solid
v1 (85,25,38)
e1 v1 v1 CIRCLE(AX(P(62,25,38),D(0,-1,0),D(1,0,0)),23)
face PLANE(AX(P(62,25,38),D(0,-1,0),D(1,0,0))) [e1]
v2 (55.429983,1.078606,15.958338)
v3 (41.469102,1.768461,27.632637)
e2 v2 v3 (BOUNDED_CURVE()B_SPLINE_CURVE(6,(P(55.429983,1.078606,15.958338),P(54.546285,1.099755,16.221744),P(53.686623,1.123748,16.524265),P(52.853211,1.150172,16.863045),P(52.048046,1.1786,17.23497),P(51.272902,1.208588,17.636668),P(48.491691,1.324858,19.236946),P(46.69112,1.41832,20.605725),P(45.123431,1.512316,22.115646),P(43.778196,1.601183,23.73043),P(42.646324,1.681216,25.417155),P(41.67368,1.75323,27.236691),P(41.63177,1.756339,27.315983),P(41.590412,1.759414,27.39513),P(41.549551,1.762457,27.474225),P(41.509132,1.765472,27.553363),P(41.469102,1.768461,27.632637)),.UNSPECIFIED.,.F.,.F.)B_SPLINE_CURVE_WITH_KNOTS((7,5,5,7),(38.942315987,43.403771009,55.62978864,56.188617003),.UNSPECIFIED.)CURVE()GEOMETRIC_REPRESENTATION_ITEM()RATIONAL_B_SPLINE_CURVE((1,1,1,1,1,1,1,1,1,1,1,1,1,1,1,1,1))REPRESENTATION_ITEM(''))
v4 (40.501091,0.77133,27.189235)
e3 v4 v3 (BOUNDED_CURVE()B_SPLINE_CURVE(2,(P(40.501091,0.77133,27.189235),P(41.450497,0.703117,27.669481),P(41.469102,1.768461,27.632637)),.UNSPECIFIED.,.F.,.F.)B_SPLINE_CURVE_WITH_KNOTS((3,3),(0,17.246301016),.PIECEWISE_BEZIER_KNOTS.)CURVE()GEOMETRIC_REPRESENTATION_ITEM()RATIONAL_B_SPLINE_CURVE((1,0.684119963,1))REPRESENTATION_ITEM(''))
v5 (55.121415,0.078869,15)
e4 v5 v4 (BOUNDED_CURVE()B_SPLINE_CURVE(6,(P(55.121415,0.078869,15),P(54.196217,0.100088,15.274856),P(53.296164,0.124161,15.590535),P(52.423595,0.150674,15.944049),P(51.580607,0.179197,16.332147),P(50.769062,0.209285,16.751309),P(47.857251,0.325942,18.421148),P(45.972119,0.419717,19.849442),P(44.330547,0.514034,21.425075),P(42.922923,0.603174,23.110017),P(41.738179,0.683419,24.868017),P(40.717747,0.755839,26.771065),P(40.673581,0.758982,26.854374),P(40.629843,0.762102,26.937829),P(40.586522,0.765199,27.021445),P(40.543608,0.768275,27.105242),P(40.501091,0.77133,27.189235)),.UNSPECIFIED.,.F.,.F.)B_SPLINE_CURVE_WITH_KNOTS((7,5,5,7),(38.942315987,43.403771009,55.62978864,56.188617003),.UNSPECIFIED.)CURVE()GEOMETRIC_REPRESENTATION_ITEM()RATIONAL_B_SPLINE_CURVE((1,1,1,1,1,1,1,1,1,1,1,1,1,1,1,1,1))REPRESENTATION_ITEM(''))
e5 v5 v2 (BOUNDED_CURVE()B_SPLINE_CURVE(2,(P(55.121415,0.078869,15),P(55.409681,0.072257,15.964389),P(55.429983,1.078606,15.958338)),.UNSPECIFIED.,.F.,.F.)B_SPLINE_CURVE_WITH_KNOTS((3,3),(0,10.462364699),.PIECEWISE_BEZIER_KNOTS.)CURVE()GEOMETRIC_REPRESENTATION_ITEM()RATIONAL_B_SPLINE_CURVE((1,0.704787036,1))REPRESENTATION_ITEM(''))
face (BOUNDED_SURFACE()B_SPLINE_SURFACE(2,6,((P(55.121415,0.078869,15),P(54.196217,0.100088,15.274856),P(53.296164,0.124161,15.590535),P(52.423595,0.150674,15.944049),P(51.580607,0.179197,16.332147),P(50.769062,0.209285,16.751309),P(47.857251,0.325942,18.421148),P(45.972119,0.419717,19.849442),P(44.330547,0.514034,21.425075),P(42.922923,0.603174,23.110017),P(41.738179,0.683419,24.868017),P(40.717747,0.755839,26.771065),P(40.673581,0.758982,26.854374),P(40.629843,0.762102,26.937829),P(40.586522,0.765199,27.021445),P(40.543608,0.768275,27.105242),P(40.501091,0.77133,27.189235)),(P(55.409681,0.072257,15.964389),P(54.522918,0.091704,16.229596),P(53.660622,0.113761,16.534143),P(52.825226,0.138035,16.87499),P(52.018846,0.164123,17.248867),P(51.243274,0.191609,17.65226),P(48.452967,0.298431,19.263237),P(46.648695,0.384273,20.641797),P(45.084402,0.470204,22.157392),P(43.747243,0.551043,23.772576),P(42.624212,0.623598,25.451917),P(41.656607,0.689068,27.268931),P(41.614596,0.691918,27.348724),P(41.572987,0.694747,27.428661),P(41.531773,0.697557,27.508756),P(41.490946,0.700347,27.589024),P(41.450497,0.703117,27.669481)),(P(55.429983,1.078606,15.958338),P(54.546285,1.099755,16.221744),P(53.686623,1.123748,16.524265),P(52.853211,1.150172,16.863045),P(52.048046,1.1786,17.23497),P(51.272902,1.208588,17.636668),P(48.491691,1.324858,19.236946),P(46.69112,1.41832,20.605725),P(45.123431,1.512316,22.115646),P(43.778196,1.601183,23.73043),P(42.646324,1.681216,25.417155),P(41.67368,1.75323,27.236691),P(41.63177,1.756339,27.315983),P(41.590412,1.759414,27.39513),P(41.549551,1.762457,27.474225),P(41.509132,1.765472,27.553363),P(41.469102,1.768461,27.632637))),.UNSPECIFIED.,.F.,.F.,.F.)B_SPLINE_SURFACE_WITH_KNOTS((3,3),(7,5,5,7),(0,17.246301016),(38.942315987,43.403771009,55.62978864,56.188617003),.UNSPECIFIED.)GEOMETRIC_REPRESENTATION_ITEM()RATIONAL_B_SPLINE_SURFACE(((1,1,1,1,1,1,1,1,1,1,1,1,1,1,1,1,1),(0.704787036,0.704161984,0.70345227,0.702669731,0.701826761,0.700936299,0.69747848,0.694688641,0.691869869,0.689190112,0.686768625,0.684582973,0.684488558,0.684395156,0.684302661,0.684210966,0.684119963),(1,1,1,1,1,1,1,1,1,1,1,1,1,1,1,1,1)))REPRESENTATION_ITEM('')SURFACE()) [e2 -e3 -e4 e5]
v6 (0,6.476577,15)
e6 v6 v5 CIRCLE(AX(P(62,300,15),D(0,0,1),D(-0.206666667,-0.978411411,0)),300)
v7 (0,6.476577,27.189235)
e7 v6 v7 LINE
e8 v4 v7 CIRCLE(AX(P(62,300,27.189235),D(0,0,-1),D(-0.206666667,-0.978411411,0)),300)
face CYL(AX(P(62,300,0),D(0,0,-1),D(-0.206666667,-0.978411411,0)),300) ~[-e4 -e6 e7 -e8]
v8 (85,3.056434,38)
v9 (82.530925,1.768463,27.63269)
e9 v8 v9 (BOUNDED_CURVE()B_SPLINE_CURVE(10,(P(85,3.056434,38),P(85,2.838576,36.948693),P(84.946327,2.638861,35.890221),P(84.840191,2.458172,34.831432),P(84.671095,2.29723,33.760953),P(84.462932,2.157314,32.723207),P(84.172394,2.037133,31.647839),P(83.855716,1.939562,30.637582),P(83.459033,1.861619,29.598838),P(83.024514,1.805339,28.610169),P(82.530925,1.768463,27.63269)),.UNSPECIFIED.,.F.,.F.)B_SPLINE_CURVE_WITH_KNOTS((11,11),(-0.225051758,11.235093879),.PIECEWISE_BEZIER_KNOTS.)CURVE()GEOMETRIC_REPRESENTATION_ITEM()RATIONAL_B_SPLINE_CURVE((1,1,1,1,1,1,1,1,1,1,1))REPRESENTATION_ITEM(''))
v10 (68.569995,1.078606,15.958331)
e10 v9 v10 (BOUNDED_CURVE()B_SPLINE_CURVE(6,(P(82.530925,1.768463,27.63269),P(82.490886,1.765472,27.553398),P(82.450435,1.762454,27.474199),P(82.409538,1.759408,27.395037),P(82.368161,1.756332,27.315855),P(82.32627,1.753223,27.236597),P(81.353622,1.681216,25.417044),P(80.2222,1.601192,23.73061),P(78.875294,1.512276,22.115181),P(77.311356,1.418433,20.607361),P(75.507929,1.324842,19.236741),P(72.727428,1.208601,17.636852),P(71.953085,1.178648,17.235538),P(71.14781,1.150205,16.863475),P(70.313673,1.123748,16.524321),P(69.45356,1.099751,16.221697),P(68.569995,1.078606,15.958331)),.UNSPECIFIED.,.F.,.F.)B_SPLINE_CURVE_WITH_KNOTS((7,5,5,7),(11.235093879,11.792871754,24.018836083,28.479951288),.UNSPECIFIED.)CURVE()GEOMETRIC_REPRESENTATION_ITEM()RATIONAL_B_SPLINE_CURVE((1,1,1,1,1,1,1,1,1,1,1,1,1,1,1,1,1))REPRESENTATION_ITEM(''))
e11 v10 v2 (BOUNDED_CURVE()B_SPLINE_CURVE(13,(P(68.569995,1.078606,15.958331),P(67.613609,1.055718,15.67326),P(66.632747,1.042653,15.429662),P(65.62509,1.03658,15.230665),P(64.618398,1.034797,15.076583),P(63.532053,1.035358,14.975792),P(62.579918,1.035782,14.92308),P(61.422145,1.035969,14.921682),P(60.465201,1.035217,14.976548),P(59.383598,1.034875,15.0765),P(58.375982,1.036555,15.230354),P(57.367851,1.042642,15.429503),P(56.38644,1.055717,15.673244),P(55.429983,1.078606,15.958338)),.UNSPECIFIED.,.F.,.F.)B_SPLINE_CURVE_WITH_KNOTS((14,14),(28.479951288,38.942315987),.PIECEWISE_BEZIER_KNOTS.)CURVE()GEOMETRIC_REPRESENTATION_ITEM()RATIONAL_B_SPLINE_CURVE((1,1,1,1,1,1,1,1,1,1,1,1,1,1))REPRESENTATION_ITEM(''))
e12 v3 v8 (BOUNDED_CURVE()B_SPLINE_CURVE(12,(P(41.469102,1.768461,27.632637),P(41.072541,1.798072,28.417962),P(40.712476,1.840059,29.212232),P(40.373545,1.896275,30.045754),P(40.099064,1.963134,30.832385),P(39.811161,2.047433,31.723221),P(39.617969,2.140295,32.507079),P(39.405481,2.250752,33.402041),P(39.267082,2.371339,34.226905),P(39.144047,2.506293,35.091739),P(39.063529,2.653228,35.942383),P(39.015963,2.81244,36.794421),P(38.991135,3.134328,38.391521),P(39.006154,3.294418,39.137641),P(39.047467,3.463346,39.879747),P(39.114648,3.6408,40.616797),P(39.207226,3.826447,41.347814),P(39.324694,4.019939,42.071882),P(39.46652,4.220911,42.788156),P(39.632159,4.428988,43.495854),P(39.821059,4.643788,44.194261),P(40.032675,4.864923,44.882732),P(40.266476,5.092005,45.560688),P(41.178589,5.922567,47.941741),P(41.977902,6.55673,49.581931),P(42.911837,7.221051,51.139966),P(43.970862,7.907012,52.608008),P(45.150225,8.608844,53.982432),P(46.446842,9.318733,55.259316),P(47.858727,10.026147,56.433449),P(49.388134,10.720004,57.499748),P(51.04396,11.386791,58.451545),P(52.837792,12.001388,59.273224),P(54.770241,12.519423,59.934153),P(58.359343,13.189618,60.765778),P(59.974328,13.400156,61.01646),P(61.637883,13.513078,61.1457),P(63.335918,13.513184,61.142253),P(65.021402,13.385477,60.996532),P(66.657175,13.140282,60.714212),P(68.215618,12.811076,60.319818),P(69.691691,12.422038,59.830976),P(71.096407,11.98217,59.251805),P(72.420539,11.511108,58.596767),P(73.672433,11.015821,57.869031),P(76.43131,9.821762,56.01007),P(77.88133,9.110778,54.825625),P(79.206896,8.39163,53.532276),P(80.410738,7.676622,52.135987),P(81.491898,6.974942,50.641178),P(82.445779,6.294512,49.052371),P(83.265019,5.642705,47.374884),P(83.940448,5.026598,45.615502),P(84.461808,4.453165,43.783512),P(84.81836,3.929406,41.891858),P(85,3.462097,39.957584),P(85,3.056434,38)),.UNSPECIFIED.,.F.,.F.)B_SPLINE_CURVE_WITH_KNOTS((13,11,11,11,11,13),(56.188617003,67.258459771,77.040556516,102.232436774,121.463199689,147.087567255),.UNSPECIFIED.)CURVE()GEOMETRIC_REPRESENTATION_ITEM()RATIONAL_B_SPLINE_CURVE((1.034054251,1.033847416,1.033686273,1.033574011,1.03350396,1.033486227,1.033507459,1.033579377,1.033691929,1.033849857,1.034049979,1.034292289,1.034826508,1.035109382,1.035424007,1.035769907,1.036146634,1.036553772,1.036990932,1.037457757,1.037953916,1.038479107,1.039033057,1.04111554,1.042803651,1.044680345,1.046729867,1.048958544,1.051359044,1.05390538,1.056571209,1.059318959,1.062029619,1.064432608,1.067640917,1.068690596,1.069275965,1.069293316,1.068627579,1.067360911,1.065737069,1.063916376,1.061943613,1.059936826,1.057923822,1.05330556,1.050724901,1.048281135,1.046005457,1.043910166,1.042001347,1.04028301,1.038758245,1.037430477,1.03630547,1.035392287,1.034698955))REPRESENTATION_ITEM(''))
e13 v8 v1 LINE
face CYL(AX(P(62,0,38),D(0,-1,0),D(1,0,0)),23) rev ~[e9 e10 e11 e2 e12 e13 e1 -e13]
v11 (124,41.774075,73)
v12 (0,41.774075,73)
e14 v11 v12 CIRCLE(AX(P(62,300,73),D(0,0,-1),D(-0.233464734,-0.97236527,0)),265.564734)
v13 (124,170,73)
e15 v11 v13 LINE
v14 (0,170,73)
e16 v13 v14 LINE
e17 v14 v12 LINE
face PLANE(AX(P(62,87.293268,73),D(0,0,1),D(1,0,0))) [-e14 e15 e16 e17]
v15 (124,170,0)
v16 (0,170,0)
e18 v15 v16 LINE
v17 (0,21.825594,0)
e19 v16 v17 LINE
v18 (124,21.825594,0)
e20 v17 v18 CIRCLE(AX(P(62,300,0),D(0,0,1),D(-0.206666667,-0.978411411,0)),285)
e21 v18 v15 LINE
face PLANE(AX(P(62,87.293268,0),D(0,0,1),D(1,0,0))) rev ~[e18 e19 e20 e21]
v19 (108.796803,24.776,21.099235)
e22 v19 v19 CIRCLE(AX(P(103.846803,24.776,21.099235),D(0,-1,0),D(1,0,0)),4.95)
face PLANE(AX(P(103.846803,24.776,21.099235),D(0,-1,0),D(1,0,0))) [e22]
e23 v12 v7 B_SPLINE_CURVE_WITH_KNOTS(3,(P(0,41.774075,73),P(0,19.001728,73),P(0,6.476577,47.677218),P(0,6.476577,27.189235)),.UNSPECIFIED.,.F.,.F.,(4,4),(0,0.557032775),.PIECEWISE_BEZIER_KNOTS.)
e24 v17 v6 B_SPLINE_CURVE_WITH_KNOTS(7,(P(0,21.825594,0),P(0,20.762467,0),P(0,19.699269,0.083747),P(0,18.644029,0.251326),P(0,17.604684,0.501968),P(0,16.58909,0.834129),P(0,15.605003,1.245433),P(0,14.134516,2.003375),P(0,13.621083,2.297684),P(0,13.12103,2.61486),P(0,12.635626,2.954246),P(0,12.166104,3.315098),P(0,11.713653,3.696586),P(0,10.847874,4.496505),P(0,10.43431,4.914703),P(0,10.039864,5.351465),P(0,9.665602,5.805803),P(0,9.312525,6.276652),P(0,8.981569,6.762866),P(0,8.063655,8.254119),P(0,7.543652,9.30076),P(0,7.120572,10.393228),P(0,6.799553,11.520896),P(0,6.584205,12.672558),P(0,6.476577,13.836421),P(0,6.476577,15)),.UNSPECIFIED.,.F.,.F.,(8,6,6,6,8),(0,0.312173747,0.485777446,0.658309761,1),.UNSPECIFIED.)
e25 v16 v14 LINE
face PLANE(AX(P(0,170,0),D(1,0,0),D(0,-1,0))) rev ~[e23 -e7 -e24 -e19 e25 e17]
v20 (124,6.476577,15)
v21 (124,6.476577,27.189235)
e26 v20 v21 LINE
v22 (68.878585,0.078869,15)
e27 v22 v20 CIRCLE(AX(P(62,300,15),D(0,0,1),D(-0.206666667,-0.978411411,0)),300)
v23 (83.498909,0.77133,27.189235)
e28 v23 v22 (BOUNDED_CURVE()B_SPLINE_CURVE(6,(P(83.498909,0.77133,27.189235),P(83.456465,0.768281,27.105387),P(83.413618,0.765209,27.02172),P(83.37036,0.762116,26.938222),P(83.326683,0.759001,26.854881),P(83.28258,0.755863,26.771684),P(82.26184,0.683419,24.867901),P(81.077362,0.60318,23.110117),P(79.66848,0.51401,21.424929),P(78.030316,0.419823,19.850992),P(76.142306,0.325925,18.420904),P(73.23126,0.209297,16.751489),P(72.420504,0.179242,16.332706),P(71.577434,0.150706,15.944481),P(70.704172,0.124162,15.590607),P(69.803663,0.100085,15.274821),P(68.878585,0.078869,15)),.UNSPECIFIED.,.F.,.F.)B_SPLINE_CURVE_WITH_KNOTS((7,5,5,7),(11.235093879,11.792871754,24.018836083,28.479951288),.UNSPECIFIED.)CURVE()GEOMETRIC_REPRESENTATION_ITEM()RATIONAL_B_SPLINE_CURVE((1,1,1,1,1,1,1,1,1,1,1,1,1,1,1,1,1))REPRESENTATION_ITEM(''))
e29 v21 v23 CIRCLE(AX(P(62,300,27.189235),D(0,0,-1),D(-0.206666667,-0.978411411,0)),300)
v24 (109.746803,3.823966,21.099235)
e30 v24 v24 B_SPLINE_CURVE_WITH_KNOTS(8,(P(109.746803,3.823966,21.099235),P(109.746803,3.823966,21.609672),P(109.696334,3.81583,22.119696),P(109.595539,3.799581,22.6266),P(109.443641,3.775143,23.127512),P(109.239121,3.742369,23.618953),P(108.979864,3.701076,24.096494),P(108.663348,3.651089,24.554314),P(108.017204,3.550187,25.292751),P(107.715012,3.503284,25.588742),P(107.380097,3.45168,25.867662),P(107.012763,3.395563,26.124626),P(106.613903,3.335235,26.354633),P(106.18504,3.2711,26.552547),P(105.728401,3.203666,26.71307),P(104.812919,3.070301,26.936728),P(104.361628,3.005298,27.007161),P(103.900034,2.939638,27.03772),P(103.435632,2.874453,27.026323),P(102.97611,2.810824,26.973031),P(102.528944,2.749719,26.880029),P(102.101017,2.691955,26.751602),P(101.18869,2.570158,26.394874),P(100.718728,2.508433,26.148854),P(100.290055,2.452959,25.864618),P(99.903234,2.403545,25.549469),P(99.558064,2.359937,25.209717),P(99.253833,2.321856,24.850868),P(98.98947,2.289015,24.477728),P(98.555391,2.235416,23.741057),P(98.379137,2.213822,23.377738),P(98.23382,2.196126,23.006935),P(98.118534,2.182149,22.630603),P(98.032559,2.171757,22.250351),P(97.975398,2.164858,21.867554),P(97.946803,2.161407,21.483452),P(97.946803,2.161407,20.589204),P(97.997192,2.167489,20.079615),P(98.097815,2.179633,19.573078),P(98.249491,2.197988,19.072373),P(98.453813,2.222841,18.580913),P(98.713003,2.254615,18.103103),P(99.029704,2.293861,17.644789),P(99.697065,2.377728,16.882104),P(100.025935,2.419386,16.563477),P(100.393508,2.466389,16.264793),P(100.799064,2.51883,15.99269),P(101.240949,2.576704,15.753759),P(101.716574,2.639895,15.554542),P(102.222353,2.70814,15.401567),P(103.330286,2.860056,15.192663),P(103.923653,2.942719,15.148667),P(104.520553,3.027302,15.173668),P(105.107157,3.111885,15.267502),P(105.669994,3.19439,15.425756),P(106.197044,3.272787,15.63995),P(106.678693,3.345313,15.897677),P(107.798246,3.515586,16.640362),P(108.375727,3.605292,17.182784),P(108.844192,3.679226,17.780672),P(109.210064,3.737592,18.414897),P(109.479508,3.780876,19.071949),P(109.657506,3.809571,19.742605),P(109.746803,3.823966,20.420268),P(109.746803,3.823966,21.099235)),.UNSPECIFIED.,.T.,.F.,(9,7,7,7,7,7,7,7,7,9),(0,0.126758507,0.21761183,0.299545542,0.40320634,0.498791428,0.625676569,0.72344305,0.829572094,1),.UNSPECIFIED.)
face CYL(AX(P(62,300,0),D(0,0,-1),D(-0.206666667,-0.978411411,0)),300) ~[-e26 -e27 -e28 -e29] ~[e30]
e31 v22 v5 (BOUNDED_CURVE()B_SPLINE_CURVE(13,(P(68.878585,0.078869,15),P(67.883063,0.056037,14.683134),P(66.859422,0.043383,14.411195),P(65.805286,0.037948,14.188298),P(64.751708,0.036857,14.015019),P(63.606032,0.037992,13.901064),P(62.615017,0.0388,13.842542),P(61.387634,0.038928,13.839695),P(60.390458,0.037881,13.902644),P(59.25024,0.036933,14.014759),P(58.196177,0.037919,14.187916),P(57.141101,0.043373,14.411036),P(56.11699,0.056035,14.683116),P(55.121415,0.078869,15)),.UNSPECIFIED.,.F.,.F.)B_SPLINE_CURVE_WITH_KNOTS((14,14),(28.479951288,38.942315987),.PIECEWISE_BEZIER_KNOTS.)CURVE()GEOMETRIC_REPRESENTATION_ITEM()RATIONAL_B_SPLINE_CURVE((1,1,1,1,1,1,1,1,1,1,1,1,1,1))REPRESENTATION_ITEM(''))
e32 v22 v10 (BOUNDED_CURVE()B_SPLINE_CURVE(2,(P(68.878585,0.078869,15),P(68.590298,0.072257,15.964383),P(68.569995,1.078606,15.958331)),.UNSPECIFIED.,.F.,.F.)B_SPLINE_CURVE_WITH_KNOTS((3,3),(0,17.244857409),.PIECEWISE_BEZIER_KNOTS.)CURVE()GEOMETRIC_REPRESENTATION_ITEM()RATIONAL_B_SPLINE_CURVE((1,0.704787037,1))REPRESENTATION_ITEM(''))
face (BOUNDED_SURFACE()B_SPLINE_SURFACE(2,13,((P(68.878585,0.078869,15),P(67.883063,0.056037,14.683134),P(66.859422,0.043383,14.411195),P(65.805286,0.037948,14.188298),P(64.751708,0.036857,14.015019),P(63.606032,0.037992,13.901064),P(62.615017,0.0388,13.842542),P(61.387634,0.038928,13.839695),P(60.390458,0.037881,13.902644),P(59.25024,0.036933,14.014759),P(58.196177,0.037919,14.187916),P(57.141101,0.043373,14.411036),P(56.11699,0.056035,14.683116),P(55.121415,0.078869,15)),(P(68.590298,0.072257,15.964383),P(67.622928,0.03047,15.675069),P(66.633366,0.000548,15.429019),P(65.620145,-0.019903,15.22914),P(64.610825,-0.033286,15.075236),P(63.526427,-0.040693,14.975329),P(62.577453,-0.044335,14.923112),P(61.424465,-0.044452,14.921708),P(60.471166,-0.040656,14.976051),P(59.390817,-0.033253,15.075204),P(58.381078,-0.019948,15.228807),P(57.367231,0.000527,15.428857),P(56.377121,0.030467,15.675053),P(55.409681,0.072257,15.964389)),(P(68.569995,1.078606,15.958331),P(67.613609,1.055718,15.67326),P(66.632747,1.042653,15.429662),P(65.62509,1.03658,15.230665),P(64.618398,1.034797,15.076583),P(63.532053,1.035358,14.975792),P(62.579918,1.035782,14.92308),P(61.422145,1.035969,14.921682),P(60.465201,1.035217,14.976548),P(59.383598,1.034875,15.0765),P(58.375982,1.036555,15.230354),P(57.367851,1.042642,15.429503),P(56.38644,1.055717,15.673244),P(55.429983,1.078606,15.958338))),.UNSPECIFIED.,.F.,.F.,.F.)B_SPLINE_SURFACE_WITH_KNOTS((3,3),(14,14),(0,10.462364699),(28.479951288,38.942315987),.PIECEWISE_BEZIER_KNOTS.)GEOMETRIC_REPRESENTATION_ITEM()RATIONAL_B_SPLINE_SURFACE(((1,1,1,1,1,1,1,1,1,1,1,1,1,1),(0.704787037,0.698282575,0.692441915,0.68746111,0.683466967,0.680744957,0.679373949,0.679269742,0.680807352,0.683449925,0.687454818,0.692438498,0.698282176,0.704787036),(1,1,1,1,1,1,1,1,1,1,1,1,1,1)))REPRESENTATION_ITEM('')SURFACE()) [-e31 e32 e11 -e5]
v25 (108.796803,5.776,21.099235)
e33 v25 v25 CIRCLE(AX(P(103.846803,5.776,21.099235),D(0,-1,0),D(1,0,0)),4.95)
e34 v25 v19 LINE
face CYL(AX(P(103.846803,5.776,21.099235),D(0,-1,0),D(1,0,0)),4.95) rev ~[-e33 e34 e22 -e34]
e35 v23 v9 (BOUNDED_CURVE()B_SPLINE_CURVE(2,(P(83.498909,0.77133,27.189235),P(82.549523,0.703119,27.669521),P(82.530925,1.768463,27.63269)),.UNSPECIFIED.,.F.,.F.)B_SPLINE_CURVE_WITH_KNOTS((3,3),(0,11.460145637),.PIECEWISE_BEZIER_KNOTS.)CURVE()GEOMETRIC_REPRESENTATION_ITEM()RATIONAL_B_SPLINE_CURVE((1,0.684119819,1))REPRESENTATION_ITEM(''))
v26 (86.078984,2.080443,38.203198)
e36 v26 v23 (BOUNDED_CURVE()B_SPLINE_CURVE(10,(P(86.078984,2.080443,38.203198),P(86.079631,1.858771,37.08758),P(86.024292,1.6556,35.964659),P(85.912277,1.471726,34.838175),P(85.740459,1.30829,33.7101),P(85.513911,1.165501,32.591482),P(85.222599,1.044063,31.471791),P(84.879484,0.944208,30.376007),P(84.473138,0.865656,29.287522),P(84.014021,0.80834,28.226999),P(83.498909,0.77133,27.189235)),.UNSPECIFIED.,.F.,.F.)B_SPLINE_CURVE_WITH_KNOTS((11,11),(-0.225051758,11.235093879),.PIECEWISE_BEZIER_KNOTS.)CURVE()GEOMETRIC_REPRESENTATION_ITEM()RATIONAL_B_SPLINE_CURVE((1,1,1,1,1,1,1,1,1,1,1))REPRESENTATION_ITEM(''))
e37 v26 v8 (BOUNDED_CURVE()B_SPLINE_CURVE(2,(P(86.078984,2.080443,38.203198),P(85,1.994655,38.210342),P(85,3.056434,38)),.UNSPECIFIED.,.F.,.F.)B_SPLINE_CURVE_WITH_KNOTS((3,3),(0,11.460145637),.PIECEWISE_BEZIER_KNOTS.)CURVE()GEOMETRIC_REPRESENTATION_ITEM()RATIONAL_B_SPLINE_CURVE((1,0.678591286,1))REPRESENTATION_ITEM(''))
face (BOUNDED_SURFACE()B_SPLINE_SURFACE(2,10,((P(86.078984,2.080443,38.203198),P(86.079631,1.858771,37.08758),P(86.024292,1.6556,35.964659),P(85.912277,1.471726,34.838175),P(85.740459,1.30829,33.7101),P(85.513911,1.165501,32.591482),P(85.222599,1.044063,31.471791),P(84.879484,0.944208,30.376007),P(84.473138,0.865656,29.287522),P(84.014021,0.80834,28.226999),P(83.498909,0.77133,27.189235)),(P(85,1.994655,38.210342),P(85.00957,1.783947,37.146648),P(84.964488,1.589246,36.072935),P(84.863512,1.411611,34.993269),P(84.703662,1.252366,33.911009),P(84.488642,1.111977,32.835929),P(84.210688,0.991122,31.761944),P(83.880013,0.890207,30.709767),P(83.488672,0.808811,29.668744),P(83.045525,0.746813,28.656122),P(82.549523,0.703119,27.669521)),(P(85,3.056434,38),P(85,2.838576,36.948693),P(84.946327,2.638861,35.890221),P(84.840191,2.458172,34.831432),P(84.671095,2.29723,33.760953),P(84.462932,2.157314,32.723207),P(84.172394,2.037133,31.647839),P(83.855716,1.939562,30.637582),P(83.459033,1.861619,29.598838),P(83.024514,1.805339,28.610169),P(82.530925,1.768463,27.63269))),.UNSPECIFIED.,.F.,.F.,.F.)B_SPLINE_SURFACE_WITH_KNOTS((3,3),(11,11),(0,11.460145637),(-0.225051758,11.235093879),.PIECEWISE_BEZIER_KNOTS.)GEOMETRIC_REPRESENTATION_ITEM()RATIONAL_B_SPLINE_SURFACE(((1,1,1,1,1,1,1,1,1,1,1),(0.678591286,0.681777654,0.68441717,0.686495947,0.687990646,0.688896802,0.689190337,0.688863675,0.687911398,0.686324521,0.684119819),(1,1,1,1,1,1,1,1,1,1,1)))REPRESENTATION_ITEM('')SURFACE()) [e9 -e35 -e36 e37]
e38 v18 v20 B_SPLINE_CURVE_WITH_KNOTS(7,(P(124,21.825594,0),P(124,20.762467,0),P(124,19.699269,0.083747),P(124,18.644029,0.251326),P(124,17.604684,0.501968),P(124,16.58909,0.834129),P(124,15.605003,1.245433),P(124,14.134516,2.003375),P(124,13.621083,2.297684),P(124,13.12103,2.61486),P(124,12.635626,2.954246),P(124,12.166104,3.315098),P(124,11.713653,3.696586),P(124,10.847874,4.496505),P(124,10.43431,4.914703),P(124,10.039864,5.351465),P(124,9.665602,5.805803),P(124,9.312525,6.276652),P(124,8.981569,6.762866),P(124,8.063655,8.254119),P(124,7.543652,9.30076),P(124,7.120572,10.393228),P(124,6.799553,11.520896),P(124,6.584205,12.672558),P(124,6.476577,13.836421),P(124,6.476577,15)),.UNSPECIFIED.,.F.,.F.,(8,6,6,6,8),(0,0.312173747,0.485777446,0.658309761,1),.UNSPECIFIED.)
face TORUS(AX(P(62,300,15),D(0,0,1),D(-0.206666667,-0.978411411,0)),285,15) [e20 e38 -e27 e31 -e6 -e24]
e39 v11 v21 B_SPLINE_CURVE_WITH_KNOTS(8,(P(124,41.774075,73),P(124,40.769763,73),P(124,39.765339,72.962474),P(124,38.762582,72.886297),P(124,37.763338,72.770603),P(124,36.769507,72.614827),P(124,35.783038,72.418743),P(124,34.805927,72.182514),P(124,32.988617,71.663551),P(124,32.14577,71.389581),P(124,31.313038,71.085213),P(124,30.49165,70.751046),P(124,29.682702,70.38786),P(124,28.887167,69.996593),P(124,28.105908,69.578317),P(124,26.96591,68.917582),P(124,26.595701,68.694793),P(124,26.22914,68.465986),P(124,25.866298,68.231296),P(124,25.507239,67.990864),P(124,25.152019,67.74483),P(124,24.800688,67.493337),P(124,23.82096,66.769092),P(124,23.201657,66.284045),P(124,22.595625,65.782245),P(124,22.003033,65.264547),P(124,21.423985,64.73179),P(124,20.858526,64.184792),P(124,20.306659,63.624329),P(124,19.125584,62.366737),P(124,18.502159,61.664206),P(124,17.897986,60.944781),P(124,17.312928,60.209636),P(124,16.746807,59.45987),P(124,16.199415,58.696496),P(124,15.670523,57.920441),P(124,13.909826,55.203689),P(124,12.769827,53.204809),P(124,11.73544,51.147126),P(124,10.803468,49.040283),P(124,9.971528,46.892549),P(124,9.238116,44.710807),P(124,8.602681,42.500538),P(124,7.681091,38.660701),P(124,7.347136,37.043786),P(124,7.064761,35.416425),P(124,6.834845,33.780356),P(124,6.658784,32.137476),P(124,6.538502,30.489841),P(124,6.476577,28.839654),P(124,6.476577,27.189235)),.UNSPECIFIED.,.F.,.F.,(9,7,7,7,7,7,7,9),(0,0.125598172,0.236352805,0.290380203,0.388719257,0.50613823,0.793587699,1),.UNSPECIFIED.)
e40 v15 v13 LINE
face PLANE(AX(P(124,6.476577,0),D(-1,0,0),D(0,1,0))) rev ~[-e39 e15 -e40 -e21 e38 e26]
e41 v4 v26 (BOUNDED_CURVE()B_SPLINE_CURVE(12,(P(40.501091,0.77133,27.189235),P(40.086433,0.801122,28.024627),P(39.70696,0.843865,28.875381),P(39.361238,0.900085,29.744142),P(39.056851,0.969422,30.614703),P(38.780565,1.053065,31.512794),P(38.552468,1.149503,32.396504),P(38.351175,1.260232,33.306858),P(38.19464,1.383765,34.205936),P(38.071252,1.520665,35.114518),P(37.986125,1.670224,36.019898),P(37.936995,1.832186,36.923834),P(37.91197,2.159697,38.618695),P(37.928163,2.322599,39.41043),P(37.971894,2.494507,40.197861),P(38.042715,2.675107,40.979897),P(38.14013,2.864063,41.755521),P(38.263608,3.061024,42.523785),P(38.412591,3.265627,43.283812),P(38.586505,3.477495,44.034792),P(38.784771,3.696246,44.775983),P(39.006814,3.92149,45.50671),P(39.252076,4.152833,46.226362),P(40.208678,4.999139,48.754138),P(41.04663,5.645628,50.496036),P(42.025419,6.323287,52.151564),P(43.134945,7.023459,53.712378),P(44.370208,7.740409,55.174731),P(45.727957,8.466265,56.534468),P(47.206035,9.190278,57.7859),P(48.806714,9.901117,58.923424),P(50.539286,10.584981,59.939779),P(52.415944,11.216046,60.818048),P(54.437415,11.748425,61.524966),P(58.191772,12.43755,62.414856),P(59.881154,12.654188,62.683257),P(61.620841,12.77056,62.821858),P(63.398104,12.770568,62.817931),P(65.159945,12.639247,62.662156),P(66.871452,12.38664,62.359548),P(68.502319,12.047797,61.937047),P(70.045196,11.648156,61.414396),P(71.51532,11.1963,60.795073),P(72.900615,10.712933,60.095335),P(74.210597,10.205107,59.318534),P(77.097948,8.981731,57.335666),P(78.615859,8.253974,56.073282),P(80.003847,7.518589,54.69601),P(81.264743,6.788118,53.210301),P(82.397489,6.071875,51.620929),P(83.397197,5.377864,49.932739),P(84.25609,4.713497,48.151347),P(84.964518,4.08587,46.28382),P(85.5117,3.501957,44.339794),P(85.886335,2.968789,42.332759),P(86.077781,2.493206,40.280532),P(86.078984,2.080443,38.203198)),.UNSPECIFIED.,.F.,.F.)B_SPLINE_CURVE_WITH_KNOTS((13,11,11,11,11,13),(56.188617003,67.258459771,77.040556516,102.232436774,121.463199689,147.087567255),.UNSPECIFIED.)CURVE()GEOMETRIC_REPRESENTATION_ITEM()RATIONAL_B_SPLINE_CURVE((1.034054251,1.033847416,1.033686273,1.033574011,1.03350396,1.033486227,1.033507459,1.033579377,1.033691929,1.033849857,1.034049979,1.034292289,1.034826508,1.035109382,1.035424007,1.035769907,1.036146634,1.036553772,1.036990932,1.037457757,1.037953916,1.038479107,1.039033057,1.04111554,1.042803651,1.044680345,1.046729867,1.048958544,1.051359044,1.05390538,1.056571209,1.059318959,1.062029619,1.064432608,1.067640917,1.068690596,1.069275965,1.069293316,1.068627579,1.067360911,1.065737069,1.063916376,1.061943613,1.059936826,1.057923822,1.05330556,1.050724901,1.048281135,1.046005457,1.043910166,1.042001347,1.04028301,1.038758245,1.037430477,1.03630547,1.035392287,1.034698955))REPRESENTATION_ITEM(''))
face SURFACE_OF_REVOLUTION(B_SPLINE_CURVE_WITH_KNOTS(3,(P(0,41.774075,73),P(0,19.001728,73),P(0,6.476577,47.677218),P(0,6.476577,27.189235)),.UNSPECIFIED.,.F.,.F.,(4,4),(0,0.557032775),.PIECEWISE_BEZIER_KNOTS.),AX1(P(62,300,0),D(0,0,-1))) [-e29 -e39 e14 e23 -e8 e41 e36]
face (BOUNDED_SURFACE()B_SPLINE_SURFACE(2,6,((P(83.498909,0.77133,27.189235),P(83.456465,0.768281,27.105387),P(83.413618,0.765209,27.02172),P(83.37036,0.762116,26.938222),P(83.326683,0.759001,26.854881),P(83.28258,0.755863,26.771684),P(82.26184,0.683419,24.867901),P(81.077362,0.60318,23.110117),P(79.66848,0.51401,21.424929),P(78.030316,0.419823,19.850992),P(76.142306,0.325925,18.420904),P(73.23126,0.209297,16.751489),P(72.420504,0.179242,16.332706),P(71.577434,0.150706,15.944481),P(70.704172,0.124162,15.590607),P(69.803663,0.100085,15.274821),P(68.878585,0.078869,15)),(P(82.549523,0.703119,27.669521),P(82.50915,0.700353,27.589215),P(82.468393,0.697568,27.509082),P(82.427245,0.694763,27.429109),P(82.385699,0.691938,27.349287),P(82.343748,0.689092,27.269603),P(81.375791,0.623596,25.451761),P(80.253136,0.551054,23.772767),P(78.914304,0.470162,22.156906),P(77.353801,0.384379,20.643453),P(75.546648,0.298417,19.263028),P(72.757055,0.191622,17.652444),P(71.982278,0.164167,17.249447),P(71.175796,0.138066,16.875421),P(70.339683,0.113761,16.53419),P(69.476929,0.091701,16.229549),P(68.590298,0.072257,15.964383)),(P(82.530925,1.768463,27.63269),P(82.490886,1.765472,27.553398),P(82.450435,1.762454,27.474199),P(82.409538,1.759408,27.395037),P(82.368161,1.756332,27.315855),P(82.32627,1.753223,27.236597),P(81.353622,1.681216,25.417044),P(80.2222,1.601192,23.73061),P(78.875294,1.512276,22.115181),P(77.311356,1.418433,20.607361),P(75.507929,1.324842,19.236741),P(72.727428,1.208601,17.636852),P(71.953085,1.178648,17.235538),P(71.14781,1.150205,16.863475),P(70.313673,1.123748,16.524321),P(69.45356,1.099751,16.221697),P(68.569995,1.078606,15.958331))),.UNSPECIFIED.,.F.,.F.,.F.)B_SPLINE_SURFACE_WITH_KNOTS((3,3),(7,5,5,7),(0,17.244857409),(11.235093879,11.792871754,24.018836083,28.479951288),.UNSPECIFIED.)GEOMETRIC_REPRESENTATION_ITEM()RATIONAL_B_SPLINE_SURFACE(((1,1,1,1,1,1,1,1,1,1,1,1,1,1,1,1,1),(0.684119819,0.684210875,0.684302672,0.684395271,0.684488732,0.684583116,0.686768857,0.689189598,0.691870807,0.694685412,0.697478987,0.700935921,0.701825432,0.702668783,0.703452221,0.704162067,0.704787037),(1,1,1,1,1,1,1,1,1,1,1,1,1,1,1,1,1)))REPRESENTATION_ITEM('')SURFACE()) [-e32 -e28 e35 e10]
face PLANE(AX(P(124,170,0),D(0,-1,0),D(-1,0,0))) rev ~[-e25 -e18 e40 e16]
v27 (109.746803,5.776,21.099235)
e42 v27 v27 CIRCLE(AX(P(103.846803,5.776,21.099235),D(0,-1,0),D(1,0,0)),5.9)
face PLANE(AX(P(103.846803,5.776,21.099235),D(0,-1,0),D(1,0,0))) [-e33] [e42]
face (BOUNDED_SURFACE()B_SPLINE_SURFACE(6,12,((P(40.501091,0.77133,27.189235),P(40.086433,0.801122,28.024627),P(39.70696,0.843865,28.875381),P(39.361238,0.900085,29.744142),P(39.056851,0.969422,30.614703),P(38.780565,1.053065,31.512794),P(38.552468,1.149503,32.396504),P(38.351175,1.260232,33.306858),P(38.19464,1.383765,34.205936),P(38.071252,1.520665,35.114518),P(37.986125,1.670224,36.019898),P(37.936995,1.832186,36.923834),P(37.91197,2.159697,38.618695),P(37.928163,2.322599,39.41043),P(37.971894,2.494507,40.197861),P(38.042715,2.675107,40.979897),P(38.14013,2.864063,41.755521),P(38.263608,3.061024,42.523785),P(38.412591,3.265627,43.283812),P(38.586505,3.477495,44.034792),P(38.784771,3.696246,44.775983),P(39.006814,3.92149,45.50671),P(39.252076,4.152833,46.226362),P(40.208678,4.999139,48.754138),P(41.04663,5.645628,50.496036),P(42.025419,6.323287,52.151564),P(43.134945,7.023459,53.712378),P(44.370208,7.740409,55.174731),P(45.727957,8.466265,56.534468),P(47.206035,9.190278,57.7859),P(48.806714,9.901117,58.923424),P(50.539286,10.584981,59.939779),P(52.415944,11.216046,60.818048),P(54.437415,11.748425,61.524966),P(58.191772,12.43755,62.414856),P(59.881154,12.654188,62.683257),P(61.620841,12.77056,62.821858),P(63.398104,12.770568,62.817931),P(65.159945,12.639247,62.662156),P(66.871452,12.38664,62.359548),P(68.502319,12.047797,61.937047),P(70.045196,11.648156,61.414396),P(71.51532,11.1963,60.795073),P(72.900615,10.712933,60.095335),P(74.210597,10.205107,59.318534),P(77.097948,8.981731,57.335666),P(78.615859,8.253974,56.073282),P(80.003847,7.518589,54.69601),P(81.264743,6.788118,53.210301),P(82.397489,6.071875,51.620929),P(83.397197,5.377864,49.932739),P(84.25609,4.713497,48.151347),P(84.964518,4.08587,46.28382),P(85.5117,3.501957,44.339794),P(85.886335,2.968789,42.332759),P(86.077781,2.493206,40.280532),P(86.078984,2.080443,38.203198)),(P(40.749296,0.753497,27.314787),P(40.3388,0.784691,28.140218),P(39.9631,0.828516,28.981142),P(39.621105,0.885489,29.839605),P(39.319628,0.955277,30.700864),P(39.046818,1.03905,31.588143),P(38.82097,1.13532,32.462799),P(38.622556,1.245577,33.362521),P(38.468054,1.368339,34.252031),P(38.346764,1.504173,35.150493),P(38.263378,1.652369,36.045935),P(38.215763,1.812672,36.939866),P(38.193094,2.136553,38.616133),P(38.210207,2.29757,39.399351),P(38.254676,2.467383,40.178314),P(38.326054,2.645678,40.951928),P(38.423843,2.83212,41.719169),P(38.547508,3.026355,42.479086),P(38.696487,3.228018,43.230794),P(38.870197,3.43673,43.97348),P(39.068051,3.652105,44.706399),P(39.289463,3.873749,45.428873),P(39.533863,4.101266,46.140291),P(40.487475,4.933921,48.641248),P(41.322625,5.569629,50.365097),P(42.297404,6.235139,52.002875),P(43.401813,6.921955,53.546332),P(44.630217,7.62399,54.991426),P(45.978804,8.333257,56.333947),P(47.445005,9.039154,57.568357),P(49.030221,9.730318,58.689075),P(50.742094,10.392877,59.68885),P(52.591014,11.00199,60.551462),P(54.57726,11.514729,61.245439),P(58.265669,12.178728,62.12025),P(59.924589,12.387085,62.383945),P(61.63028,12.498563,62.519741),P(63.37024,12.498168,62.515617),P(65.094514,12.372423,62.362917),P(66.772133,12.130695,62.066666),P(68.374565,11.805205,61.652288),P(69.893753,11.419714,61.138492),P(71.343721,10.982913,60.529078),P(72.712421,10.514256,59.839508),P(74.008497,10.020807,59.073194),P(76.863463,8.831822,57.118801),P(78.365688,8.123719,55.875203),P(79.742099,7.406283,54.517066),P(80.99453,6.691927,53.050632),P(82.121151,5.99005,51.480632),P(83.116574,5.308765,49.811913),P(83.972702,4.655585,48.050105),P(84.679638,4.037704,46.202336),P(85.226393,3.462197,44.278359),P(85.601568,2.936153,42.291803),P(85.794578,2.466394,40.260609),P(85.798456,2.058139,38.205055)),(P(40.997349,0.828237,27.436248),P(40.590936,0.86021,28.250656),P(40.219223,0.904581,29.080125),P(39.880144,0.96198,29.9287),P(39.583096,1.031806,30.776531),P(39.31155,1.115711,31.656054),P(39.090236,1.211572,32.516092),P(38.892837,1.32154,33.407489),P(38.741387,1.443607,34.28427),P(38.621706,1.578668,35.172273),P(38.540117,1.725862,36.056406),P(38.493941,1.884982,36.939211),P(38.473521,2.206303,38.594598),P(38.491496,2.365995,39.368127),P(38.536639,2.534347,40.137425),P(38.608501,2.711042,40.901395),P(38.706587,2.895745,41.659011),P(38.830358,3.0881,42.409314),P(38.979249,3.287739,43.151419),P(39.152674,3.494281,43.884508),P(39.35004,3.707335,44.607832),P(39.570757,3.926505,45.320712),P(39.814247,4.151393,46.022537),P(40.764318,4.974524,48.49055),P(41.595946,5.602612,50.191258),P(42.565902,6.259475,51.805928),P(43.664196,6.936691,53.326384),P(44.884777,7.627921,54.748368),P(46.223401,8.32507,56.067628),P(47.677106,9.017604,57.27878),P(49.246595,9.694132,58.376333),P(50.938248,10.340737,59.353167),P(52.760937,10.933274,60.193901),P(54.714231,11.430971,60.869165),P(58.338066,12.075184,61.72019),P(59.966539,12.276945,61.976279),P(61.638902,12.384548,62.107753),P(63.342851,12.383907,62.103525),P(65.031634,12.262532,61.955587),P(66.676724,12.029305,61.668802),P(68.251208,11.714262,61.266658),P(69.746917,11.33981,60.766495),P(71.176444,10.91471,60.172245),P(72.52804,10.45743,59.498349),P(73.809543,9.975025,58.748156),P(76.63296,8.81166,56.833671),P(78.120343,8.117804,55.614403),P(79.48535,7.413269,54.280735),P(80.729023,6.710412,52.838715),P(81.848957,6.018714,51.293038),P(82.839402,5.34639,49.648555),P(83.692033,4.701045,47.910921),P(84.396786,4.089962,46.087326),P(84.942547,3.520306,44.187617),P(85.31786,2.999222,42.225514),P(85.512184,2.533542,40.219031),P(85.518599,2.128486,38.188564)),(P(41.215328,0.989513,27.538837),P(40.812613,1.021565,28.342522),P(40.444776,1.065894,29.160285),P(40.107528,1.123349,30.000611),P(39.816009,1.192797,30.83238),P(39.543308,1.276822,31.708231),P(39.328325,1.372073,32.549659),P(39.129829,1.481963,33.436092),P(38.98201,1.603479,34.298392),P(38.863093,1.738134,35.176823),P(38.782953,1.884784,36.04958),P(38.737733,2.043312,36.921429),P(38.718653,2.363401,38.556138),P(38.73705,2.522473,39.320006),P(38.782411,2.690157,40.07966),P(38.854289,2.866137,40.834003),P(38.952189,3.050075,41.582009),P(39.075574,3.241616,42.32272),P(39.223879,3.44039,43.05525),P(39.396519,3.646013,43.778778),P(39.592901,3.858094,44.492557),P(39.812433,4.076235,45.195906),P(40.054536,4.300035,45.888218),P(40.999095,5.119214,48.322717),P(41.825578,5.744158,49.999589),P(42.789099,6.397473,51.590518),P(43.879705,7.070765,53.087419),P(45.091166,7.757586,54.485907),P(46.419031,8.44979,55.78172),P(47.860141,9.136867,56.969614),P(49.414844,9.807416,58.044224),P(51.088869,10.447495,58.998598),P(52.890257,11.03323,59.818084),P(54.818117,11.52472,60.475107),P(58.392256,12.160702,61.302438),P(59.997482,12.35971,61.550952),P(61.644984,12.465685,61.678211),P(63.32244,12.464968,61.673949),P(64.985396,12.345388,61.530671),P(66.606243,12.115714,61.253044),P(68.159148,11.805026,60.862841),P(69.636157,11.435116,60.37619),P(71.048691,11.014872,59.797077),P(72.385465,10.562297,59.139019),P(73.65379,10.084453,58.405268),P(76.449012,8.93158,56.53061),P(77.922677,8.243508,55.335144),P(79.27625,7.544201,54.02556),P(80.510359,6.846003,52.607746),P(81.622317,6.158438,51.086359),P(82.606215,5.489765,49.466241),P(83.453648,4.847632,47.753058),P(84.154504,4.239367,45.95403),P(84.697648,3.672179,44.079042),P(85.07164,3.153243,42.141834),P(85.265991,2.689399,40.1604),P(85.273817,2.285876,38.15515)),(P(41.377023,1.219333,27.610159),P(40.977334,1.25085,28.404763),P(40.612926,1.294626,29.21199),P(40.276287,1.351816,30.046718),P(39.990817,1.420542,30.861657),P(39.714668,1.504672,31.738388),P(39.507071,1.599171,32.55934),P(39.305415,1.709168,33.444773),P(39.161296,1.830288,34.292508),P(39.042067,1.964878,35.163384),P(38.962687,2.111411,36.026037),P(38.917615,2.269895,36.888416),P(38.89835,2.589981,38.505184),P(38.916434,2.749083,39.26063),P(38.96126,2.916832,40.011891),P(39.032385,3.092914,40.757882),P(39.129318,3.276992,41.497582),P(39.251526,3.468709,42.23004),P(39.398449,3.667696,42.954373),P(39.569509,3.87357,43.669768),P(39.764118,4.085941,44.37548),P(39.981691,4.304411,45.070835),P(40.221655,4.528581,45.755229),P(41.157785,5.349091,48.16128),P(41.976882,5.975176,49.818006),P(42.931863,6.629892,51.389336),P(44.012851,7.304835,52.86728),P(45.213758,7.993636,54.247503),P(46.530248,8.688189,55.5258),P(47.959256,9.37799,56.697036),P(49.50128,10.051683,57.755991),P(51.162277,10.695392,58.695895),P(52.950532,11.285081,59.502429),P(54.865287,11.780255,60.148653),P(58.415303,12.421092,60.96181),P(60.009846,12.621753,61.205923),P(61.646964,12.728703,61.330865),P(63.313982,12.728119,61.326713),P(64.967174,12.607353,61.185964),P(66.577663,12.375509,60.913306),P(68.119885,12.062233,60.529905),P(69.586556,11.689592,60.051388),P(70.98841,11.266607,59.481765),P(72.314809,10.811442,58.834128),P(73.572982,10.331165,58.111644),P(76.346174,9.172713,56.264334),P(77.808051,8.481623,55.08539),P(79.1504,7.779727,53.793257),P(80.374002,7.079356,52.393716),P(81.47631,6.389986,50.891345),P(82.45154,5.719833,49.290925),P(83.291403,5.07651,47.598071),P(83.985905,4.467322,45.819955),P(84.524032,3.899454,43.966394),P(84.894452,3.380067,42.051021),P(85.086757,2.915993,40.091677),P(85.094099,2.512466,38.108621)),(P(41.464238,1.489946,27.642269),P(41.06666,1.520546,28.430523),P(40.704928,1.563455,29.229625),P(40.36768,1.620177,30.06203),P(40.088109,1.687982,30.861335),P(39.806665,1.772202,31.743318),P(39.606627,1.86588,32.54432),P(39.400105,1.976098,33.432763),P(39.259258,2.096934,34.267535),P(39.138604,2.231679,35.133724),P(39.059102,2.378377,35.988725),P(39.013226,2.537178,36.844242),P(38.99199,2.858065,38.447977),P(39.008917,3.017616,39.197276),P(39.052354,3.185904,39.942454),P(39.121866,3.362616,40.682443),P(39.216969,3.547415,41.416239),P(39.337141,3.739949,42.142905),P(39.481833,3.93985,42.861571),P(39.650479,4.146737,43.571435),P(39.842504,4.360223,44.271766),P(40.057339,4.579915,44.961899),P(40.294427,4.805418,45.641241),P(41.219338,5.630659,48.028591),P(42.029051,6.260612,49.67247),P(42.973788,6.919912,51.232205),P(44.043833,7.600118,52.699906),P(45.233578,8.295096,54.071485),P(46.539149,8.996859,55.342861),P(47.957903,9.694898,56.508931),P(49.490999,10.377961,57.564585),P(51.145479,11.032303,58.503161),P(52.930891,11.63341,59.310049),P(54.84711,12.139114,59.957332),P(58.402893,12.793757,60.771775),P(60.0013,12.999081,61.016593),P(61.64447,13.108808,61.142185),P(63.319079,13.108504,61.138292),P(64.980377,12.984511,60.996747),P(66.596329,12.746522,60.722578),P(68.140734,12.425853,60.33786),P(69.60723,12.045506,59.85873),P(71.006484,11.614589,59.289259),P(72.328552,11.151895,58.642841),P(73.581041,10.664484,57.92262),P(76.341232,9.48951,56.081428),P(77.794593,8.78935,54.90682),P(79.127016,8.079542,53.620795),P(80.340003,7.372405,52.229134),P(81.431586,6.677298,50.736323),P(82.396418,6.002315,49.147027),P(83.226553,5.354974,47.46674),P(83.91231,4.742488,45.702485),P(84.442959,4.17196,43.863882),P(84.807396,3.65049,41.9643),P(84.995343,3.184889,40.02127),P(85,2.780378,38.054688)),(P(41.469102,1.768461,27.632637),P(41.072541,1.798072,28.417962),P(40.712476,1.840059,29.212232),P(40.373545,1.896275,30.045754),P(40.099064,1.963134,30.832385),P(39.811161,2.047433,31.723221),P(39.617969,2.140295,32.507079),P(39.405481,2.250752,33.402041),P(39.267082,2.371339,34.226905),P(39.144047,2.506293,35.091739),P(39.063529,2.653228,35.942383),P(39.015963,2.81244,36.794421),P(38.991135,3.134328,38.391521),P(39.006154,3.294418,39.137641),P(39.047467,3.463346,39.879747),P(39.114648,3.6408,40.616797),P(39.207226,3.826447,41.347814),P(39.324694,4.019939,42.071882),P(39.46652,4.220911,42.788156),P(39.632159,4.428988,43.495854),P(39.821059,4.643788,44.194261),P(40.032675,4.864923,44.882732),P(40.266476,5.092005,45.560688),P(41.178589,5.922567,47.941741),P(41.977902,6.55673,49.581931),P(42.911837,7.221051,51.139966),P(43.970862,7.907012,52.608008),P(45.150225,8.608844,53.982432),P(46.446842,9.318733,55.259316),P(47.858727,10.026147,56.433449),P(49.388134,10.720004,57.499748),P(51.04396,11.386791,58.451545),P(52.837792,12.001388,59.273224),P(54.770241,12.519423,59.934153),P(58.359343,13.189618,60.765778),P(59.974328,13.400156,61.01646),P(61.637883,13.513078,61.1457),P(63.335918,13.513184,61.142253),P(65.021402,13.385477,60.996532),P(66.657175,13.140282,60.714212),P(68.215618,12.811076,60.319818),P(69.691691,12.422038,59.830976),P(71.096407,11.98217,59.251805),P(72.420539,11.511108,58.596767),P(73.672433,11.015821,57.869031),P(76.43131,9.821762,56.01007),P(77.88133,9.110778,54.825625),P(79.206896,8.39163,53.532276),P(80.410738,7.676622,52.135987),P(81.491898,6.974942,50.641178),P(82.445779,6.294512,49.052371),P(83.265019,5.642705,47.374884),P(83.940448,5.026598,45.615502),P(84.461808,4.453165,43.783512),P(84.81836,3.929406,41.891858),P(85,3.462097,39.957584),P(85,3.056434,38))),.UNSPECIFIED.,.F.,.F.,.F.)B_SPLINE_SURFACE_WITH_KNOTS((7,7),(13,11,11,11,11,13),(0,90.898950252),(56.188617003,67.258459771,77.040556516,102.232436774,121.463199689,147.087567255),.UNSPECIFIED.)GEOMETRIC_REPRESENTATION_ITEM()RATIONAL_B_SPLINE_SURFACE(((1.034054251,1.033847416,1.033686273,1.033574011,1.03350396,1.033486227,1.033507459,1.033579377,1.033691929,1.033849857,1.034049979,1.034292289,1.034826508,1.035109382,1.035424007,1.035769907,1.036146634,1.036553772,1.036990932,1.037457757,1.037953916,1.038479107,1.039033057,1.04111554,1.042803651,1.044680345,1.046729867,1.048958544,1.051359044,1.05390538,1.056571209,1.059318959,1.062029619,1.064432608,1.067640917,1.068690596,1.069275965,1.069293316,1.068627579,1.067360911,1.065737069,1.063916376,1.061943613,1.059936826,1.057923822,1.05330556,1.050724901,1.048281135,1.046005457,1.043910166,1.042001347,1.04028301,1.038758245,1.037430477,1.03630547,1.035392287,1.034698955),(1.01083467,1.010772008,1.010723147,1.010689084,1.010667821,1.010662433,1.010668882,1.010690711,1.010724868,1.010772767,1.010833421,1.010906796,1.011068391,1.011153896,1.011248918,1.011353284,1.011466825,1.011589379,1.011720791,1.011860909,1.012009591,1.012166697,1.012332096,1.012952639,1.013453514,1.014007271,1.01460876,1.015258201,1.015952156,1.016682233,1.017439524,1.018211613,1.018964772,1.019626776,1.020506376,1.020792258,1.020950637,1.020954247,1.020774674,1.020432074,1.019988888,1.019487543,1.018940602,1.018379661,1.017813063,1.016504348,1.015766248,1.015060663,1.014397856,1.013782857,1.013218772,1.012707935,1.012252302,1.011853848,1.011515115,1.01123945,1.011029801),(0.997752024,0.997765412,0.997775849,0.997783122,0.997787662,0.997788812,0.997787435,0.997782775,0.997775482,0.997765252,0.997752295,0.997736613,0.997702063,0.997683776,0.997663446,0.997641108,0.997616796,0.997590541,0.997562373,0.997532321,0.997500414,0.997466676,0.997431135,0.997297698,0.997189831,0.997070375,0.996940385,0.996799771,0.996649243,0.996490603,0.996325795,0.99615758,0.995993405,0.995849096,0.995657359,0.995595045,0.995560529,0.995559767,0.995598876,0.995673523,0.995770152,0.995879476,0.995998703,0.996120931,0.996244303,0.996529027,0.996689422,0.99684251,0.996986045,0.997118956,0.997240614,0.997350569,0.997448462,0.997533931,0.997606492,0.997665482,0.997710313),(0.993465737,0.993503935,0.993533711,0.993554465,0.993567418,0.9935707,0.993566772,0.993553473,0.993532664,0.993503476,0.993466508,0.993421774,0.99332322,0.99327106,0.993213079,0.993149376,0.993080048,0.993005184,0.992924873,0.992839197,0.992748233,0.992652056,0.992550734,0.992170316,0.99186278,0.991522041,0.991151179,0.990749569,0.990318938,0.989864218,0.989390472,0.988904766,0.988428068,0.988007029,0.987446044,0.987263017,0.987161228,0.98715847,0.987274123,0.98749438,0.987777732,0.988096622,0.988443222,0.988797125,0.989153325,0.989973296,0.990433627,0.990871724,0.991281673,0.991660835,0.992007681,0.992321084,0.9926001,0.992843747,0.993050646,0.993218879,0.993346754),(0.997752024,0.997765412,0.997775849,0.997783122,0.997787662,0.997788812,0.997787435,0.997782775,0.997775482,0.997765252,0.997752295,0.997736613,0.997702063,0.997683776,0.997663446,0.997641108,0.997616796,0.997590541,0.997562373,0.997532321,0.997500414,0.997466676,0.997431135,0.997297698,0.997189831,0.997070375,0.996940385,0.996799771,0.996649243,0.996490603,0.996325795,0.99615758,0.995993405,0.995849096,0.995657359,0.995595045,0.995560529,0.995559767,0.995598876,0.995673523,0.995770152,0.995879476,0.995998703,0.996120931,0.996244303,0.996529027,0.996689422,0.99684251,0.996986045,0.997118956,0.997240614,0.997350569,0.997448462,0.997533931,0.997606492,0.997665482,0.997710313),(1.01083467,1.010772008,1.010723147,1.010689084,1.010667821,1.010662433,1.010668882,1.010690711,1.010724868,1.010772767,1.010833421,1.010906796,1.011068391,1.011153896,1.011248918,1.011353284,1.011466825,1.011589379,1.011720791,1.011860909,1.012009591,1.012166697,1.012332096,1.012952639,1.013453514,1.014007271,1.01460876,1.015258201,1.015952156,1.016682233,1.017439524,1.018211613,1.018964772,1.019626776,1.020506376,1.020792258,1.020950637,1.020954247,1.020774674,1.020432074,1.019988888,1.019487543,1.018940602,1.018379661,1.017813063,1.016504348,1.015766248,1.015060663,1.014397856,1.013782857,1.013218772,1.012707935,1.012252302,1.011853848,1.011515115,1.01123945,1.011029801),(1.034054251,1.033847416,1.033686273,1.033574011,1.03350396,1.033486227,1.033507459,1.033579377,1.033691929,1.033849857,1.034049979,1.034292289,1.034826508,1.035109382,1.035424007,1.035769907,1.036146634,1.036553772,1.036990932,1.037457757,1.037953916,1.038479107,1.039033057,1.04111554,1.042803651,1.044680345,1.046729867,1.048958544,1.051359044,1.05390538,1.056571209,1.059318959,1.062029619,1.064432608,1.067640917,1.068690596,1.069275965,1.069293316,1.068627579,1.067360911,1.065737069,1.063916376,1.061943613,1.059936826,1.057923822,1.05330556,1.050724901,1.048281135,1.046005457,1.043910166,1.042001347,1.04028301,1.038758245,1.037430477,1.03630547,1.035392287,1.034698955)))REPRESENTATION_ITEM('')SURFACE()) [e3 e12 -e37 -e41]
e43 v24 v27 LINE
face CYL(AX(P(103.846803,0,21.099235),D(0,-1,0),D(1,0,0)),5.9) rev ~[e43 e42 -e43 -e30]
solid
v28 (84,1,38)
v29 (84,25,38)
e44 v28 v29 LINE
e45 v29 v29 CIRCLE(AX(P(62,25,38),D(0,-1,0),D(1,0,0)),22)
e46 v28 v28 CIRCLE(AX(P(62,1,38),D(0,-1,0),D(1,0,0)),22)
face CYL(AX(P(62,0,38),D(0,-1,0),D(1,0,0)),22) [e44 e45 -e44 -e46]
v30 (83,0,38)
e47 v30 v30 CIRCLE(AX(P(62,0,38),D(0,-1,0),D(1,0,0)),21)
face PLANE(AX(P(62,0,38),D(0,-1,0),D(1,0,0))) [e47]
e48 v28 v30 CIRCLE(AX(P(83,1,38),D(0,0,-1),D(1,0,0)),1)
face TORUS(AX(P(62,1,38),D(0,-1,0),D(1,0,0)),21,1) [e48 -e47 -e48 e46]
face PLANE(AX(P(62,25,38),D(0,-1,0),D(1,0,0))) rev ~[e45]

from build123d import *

# Parameters (mm, degrees)
F1_DEPTH  = 73
F4_R      = 15
F5_R      = 23
F6_DEPTH  = 25
F7_R      = 1
F8_R      = 22
F9_DEPTH  = 25
F10_R     = 1
F11_R     = 5.9
F12_DEPTH = 5.776
F13_R     = 4.95
F14_DEPTH = 19


with BuildPart() as f1:
    # F0 (on Top) → F1 (new body)
    with BuildSketch(Plane.XY):
        with BuildLine():
            Line((124, 170), (0, 170))
            Line((0, 170), (0, 6.4765767439))
            ThreePointArc((0, 6.4765767439), (62, 0), (124, 6.4765767439))
            Line((124, 6.4765767439), (124, 170))
        make_face()
    extrude(amount=F1_DEPTH)

    # F2 (on face) → F3 (revolve, cut)
    with BuildSketch(Plane(origin=(0, 0, 0), x_dir=(0, -1, 0), z_dir=(-1, 0, 0))):
        with BuildLine():
            Line((4.2734915467, 0), (4.2734915467, 73))
            Line((4.2734915467, 73), (-41.7740754783, 73))
            add(Edge.make_bspline(
                [(-41.7740754783, 73), (-19.0017276995, 73), (-6.4765767439, 47.6772180576), (-6.4765767439, 27.189235397)],
                knots=[0, 0, 0, 0, 0.5570327747, 0.5570327747, 0.5570327747, 0.5570327747], degree=3))
            Line((-6.4765767439, 27.189235397), (-6.4765767439, 0))
            Line((-6.4765767439, 0), (4.2734915467, 0))
        make_face()
    revolve(axis=Axis((62, 300, 0), (0, 0, -1)), mode=Mode.SUBTRACT)

    # F4
    f4_edges = [f1.edges().sort_by_distance(p)[0] for p in [
        (62, 0, 0),
    ]]
    fillet(f4_edges, radius=F4_R)

    # F5 (on Front) → F6 (cut)
    with BuildSketch(Plane.XZ):
        with Locations((62, 38)):
            Circle(F5_R)
    extrude(amount=-F6_DEPTH, mode=Mode.SUBTRACT)

    # F7
    f7_edges = [f1.edges().sort_by_distance(p)[0] for p in [
        (84.321276, 1.092016, 32.453774),
        (56.414529, 10.754814, 60.311488),
    ]]
    fillet(f7_edges, radius=F7_R)

    # F11 (on Front) → F12 (cut)
    with BuildSketch(Plane.XZ):
        with Locations((103.8468026996, 21.099235397)):
            Circle(F11_R)
    extrude(amount=-F12_DEPTH, mode=Mode.SUBTRACT)

    # F13 (on face) → F14 (cut)
    with BuildSketch(Plane.XZ.offset(-5.776)):
        with Locations((103.8468026996, 21.099235397)):
            Circle(F13_R)
    extrude(amount=-F14_DEPTH, mode=Mode.SUBTRACT)


with BuildPart() as f9:
    # F8 (on Front) → F9 (new body)
    with BuildSketch(Plane.XZ):
        with Locations((62, 38)):
            Circle(F8_R)
    extrude(amount=-F9_DEPTH)

    # F10
    f10_edges = [f9.edges().sort_by_distance(p)[0] for p in [
        (40, 0, 38),
    ]]
    fillet(f10_edges, radius=F10_R)


solid = Compound([f1.part, f9.part])
